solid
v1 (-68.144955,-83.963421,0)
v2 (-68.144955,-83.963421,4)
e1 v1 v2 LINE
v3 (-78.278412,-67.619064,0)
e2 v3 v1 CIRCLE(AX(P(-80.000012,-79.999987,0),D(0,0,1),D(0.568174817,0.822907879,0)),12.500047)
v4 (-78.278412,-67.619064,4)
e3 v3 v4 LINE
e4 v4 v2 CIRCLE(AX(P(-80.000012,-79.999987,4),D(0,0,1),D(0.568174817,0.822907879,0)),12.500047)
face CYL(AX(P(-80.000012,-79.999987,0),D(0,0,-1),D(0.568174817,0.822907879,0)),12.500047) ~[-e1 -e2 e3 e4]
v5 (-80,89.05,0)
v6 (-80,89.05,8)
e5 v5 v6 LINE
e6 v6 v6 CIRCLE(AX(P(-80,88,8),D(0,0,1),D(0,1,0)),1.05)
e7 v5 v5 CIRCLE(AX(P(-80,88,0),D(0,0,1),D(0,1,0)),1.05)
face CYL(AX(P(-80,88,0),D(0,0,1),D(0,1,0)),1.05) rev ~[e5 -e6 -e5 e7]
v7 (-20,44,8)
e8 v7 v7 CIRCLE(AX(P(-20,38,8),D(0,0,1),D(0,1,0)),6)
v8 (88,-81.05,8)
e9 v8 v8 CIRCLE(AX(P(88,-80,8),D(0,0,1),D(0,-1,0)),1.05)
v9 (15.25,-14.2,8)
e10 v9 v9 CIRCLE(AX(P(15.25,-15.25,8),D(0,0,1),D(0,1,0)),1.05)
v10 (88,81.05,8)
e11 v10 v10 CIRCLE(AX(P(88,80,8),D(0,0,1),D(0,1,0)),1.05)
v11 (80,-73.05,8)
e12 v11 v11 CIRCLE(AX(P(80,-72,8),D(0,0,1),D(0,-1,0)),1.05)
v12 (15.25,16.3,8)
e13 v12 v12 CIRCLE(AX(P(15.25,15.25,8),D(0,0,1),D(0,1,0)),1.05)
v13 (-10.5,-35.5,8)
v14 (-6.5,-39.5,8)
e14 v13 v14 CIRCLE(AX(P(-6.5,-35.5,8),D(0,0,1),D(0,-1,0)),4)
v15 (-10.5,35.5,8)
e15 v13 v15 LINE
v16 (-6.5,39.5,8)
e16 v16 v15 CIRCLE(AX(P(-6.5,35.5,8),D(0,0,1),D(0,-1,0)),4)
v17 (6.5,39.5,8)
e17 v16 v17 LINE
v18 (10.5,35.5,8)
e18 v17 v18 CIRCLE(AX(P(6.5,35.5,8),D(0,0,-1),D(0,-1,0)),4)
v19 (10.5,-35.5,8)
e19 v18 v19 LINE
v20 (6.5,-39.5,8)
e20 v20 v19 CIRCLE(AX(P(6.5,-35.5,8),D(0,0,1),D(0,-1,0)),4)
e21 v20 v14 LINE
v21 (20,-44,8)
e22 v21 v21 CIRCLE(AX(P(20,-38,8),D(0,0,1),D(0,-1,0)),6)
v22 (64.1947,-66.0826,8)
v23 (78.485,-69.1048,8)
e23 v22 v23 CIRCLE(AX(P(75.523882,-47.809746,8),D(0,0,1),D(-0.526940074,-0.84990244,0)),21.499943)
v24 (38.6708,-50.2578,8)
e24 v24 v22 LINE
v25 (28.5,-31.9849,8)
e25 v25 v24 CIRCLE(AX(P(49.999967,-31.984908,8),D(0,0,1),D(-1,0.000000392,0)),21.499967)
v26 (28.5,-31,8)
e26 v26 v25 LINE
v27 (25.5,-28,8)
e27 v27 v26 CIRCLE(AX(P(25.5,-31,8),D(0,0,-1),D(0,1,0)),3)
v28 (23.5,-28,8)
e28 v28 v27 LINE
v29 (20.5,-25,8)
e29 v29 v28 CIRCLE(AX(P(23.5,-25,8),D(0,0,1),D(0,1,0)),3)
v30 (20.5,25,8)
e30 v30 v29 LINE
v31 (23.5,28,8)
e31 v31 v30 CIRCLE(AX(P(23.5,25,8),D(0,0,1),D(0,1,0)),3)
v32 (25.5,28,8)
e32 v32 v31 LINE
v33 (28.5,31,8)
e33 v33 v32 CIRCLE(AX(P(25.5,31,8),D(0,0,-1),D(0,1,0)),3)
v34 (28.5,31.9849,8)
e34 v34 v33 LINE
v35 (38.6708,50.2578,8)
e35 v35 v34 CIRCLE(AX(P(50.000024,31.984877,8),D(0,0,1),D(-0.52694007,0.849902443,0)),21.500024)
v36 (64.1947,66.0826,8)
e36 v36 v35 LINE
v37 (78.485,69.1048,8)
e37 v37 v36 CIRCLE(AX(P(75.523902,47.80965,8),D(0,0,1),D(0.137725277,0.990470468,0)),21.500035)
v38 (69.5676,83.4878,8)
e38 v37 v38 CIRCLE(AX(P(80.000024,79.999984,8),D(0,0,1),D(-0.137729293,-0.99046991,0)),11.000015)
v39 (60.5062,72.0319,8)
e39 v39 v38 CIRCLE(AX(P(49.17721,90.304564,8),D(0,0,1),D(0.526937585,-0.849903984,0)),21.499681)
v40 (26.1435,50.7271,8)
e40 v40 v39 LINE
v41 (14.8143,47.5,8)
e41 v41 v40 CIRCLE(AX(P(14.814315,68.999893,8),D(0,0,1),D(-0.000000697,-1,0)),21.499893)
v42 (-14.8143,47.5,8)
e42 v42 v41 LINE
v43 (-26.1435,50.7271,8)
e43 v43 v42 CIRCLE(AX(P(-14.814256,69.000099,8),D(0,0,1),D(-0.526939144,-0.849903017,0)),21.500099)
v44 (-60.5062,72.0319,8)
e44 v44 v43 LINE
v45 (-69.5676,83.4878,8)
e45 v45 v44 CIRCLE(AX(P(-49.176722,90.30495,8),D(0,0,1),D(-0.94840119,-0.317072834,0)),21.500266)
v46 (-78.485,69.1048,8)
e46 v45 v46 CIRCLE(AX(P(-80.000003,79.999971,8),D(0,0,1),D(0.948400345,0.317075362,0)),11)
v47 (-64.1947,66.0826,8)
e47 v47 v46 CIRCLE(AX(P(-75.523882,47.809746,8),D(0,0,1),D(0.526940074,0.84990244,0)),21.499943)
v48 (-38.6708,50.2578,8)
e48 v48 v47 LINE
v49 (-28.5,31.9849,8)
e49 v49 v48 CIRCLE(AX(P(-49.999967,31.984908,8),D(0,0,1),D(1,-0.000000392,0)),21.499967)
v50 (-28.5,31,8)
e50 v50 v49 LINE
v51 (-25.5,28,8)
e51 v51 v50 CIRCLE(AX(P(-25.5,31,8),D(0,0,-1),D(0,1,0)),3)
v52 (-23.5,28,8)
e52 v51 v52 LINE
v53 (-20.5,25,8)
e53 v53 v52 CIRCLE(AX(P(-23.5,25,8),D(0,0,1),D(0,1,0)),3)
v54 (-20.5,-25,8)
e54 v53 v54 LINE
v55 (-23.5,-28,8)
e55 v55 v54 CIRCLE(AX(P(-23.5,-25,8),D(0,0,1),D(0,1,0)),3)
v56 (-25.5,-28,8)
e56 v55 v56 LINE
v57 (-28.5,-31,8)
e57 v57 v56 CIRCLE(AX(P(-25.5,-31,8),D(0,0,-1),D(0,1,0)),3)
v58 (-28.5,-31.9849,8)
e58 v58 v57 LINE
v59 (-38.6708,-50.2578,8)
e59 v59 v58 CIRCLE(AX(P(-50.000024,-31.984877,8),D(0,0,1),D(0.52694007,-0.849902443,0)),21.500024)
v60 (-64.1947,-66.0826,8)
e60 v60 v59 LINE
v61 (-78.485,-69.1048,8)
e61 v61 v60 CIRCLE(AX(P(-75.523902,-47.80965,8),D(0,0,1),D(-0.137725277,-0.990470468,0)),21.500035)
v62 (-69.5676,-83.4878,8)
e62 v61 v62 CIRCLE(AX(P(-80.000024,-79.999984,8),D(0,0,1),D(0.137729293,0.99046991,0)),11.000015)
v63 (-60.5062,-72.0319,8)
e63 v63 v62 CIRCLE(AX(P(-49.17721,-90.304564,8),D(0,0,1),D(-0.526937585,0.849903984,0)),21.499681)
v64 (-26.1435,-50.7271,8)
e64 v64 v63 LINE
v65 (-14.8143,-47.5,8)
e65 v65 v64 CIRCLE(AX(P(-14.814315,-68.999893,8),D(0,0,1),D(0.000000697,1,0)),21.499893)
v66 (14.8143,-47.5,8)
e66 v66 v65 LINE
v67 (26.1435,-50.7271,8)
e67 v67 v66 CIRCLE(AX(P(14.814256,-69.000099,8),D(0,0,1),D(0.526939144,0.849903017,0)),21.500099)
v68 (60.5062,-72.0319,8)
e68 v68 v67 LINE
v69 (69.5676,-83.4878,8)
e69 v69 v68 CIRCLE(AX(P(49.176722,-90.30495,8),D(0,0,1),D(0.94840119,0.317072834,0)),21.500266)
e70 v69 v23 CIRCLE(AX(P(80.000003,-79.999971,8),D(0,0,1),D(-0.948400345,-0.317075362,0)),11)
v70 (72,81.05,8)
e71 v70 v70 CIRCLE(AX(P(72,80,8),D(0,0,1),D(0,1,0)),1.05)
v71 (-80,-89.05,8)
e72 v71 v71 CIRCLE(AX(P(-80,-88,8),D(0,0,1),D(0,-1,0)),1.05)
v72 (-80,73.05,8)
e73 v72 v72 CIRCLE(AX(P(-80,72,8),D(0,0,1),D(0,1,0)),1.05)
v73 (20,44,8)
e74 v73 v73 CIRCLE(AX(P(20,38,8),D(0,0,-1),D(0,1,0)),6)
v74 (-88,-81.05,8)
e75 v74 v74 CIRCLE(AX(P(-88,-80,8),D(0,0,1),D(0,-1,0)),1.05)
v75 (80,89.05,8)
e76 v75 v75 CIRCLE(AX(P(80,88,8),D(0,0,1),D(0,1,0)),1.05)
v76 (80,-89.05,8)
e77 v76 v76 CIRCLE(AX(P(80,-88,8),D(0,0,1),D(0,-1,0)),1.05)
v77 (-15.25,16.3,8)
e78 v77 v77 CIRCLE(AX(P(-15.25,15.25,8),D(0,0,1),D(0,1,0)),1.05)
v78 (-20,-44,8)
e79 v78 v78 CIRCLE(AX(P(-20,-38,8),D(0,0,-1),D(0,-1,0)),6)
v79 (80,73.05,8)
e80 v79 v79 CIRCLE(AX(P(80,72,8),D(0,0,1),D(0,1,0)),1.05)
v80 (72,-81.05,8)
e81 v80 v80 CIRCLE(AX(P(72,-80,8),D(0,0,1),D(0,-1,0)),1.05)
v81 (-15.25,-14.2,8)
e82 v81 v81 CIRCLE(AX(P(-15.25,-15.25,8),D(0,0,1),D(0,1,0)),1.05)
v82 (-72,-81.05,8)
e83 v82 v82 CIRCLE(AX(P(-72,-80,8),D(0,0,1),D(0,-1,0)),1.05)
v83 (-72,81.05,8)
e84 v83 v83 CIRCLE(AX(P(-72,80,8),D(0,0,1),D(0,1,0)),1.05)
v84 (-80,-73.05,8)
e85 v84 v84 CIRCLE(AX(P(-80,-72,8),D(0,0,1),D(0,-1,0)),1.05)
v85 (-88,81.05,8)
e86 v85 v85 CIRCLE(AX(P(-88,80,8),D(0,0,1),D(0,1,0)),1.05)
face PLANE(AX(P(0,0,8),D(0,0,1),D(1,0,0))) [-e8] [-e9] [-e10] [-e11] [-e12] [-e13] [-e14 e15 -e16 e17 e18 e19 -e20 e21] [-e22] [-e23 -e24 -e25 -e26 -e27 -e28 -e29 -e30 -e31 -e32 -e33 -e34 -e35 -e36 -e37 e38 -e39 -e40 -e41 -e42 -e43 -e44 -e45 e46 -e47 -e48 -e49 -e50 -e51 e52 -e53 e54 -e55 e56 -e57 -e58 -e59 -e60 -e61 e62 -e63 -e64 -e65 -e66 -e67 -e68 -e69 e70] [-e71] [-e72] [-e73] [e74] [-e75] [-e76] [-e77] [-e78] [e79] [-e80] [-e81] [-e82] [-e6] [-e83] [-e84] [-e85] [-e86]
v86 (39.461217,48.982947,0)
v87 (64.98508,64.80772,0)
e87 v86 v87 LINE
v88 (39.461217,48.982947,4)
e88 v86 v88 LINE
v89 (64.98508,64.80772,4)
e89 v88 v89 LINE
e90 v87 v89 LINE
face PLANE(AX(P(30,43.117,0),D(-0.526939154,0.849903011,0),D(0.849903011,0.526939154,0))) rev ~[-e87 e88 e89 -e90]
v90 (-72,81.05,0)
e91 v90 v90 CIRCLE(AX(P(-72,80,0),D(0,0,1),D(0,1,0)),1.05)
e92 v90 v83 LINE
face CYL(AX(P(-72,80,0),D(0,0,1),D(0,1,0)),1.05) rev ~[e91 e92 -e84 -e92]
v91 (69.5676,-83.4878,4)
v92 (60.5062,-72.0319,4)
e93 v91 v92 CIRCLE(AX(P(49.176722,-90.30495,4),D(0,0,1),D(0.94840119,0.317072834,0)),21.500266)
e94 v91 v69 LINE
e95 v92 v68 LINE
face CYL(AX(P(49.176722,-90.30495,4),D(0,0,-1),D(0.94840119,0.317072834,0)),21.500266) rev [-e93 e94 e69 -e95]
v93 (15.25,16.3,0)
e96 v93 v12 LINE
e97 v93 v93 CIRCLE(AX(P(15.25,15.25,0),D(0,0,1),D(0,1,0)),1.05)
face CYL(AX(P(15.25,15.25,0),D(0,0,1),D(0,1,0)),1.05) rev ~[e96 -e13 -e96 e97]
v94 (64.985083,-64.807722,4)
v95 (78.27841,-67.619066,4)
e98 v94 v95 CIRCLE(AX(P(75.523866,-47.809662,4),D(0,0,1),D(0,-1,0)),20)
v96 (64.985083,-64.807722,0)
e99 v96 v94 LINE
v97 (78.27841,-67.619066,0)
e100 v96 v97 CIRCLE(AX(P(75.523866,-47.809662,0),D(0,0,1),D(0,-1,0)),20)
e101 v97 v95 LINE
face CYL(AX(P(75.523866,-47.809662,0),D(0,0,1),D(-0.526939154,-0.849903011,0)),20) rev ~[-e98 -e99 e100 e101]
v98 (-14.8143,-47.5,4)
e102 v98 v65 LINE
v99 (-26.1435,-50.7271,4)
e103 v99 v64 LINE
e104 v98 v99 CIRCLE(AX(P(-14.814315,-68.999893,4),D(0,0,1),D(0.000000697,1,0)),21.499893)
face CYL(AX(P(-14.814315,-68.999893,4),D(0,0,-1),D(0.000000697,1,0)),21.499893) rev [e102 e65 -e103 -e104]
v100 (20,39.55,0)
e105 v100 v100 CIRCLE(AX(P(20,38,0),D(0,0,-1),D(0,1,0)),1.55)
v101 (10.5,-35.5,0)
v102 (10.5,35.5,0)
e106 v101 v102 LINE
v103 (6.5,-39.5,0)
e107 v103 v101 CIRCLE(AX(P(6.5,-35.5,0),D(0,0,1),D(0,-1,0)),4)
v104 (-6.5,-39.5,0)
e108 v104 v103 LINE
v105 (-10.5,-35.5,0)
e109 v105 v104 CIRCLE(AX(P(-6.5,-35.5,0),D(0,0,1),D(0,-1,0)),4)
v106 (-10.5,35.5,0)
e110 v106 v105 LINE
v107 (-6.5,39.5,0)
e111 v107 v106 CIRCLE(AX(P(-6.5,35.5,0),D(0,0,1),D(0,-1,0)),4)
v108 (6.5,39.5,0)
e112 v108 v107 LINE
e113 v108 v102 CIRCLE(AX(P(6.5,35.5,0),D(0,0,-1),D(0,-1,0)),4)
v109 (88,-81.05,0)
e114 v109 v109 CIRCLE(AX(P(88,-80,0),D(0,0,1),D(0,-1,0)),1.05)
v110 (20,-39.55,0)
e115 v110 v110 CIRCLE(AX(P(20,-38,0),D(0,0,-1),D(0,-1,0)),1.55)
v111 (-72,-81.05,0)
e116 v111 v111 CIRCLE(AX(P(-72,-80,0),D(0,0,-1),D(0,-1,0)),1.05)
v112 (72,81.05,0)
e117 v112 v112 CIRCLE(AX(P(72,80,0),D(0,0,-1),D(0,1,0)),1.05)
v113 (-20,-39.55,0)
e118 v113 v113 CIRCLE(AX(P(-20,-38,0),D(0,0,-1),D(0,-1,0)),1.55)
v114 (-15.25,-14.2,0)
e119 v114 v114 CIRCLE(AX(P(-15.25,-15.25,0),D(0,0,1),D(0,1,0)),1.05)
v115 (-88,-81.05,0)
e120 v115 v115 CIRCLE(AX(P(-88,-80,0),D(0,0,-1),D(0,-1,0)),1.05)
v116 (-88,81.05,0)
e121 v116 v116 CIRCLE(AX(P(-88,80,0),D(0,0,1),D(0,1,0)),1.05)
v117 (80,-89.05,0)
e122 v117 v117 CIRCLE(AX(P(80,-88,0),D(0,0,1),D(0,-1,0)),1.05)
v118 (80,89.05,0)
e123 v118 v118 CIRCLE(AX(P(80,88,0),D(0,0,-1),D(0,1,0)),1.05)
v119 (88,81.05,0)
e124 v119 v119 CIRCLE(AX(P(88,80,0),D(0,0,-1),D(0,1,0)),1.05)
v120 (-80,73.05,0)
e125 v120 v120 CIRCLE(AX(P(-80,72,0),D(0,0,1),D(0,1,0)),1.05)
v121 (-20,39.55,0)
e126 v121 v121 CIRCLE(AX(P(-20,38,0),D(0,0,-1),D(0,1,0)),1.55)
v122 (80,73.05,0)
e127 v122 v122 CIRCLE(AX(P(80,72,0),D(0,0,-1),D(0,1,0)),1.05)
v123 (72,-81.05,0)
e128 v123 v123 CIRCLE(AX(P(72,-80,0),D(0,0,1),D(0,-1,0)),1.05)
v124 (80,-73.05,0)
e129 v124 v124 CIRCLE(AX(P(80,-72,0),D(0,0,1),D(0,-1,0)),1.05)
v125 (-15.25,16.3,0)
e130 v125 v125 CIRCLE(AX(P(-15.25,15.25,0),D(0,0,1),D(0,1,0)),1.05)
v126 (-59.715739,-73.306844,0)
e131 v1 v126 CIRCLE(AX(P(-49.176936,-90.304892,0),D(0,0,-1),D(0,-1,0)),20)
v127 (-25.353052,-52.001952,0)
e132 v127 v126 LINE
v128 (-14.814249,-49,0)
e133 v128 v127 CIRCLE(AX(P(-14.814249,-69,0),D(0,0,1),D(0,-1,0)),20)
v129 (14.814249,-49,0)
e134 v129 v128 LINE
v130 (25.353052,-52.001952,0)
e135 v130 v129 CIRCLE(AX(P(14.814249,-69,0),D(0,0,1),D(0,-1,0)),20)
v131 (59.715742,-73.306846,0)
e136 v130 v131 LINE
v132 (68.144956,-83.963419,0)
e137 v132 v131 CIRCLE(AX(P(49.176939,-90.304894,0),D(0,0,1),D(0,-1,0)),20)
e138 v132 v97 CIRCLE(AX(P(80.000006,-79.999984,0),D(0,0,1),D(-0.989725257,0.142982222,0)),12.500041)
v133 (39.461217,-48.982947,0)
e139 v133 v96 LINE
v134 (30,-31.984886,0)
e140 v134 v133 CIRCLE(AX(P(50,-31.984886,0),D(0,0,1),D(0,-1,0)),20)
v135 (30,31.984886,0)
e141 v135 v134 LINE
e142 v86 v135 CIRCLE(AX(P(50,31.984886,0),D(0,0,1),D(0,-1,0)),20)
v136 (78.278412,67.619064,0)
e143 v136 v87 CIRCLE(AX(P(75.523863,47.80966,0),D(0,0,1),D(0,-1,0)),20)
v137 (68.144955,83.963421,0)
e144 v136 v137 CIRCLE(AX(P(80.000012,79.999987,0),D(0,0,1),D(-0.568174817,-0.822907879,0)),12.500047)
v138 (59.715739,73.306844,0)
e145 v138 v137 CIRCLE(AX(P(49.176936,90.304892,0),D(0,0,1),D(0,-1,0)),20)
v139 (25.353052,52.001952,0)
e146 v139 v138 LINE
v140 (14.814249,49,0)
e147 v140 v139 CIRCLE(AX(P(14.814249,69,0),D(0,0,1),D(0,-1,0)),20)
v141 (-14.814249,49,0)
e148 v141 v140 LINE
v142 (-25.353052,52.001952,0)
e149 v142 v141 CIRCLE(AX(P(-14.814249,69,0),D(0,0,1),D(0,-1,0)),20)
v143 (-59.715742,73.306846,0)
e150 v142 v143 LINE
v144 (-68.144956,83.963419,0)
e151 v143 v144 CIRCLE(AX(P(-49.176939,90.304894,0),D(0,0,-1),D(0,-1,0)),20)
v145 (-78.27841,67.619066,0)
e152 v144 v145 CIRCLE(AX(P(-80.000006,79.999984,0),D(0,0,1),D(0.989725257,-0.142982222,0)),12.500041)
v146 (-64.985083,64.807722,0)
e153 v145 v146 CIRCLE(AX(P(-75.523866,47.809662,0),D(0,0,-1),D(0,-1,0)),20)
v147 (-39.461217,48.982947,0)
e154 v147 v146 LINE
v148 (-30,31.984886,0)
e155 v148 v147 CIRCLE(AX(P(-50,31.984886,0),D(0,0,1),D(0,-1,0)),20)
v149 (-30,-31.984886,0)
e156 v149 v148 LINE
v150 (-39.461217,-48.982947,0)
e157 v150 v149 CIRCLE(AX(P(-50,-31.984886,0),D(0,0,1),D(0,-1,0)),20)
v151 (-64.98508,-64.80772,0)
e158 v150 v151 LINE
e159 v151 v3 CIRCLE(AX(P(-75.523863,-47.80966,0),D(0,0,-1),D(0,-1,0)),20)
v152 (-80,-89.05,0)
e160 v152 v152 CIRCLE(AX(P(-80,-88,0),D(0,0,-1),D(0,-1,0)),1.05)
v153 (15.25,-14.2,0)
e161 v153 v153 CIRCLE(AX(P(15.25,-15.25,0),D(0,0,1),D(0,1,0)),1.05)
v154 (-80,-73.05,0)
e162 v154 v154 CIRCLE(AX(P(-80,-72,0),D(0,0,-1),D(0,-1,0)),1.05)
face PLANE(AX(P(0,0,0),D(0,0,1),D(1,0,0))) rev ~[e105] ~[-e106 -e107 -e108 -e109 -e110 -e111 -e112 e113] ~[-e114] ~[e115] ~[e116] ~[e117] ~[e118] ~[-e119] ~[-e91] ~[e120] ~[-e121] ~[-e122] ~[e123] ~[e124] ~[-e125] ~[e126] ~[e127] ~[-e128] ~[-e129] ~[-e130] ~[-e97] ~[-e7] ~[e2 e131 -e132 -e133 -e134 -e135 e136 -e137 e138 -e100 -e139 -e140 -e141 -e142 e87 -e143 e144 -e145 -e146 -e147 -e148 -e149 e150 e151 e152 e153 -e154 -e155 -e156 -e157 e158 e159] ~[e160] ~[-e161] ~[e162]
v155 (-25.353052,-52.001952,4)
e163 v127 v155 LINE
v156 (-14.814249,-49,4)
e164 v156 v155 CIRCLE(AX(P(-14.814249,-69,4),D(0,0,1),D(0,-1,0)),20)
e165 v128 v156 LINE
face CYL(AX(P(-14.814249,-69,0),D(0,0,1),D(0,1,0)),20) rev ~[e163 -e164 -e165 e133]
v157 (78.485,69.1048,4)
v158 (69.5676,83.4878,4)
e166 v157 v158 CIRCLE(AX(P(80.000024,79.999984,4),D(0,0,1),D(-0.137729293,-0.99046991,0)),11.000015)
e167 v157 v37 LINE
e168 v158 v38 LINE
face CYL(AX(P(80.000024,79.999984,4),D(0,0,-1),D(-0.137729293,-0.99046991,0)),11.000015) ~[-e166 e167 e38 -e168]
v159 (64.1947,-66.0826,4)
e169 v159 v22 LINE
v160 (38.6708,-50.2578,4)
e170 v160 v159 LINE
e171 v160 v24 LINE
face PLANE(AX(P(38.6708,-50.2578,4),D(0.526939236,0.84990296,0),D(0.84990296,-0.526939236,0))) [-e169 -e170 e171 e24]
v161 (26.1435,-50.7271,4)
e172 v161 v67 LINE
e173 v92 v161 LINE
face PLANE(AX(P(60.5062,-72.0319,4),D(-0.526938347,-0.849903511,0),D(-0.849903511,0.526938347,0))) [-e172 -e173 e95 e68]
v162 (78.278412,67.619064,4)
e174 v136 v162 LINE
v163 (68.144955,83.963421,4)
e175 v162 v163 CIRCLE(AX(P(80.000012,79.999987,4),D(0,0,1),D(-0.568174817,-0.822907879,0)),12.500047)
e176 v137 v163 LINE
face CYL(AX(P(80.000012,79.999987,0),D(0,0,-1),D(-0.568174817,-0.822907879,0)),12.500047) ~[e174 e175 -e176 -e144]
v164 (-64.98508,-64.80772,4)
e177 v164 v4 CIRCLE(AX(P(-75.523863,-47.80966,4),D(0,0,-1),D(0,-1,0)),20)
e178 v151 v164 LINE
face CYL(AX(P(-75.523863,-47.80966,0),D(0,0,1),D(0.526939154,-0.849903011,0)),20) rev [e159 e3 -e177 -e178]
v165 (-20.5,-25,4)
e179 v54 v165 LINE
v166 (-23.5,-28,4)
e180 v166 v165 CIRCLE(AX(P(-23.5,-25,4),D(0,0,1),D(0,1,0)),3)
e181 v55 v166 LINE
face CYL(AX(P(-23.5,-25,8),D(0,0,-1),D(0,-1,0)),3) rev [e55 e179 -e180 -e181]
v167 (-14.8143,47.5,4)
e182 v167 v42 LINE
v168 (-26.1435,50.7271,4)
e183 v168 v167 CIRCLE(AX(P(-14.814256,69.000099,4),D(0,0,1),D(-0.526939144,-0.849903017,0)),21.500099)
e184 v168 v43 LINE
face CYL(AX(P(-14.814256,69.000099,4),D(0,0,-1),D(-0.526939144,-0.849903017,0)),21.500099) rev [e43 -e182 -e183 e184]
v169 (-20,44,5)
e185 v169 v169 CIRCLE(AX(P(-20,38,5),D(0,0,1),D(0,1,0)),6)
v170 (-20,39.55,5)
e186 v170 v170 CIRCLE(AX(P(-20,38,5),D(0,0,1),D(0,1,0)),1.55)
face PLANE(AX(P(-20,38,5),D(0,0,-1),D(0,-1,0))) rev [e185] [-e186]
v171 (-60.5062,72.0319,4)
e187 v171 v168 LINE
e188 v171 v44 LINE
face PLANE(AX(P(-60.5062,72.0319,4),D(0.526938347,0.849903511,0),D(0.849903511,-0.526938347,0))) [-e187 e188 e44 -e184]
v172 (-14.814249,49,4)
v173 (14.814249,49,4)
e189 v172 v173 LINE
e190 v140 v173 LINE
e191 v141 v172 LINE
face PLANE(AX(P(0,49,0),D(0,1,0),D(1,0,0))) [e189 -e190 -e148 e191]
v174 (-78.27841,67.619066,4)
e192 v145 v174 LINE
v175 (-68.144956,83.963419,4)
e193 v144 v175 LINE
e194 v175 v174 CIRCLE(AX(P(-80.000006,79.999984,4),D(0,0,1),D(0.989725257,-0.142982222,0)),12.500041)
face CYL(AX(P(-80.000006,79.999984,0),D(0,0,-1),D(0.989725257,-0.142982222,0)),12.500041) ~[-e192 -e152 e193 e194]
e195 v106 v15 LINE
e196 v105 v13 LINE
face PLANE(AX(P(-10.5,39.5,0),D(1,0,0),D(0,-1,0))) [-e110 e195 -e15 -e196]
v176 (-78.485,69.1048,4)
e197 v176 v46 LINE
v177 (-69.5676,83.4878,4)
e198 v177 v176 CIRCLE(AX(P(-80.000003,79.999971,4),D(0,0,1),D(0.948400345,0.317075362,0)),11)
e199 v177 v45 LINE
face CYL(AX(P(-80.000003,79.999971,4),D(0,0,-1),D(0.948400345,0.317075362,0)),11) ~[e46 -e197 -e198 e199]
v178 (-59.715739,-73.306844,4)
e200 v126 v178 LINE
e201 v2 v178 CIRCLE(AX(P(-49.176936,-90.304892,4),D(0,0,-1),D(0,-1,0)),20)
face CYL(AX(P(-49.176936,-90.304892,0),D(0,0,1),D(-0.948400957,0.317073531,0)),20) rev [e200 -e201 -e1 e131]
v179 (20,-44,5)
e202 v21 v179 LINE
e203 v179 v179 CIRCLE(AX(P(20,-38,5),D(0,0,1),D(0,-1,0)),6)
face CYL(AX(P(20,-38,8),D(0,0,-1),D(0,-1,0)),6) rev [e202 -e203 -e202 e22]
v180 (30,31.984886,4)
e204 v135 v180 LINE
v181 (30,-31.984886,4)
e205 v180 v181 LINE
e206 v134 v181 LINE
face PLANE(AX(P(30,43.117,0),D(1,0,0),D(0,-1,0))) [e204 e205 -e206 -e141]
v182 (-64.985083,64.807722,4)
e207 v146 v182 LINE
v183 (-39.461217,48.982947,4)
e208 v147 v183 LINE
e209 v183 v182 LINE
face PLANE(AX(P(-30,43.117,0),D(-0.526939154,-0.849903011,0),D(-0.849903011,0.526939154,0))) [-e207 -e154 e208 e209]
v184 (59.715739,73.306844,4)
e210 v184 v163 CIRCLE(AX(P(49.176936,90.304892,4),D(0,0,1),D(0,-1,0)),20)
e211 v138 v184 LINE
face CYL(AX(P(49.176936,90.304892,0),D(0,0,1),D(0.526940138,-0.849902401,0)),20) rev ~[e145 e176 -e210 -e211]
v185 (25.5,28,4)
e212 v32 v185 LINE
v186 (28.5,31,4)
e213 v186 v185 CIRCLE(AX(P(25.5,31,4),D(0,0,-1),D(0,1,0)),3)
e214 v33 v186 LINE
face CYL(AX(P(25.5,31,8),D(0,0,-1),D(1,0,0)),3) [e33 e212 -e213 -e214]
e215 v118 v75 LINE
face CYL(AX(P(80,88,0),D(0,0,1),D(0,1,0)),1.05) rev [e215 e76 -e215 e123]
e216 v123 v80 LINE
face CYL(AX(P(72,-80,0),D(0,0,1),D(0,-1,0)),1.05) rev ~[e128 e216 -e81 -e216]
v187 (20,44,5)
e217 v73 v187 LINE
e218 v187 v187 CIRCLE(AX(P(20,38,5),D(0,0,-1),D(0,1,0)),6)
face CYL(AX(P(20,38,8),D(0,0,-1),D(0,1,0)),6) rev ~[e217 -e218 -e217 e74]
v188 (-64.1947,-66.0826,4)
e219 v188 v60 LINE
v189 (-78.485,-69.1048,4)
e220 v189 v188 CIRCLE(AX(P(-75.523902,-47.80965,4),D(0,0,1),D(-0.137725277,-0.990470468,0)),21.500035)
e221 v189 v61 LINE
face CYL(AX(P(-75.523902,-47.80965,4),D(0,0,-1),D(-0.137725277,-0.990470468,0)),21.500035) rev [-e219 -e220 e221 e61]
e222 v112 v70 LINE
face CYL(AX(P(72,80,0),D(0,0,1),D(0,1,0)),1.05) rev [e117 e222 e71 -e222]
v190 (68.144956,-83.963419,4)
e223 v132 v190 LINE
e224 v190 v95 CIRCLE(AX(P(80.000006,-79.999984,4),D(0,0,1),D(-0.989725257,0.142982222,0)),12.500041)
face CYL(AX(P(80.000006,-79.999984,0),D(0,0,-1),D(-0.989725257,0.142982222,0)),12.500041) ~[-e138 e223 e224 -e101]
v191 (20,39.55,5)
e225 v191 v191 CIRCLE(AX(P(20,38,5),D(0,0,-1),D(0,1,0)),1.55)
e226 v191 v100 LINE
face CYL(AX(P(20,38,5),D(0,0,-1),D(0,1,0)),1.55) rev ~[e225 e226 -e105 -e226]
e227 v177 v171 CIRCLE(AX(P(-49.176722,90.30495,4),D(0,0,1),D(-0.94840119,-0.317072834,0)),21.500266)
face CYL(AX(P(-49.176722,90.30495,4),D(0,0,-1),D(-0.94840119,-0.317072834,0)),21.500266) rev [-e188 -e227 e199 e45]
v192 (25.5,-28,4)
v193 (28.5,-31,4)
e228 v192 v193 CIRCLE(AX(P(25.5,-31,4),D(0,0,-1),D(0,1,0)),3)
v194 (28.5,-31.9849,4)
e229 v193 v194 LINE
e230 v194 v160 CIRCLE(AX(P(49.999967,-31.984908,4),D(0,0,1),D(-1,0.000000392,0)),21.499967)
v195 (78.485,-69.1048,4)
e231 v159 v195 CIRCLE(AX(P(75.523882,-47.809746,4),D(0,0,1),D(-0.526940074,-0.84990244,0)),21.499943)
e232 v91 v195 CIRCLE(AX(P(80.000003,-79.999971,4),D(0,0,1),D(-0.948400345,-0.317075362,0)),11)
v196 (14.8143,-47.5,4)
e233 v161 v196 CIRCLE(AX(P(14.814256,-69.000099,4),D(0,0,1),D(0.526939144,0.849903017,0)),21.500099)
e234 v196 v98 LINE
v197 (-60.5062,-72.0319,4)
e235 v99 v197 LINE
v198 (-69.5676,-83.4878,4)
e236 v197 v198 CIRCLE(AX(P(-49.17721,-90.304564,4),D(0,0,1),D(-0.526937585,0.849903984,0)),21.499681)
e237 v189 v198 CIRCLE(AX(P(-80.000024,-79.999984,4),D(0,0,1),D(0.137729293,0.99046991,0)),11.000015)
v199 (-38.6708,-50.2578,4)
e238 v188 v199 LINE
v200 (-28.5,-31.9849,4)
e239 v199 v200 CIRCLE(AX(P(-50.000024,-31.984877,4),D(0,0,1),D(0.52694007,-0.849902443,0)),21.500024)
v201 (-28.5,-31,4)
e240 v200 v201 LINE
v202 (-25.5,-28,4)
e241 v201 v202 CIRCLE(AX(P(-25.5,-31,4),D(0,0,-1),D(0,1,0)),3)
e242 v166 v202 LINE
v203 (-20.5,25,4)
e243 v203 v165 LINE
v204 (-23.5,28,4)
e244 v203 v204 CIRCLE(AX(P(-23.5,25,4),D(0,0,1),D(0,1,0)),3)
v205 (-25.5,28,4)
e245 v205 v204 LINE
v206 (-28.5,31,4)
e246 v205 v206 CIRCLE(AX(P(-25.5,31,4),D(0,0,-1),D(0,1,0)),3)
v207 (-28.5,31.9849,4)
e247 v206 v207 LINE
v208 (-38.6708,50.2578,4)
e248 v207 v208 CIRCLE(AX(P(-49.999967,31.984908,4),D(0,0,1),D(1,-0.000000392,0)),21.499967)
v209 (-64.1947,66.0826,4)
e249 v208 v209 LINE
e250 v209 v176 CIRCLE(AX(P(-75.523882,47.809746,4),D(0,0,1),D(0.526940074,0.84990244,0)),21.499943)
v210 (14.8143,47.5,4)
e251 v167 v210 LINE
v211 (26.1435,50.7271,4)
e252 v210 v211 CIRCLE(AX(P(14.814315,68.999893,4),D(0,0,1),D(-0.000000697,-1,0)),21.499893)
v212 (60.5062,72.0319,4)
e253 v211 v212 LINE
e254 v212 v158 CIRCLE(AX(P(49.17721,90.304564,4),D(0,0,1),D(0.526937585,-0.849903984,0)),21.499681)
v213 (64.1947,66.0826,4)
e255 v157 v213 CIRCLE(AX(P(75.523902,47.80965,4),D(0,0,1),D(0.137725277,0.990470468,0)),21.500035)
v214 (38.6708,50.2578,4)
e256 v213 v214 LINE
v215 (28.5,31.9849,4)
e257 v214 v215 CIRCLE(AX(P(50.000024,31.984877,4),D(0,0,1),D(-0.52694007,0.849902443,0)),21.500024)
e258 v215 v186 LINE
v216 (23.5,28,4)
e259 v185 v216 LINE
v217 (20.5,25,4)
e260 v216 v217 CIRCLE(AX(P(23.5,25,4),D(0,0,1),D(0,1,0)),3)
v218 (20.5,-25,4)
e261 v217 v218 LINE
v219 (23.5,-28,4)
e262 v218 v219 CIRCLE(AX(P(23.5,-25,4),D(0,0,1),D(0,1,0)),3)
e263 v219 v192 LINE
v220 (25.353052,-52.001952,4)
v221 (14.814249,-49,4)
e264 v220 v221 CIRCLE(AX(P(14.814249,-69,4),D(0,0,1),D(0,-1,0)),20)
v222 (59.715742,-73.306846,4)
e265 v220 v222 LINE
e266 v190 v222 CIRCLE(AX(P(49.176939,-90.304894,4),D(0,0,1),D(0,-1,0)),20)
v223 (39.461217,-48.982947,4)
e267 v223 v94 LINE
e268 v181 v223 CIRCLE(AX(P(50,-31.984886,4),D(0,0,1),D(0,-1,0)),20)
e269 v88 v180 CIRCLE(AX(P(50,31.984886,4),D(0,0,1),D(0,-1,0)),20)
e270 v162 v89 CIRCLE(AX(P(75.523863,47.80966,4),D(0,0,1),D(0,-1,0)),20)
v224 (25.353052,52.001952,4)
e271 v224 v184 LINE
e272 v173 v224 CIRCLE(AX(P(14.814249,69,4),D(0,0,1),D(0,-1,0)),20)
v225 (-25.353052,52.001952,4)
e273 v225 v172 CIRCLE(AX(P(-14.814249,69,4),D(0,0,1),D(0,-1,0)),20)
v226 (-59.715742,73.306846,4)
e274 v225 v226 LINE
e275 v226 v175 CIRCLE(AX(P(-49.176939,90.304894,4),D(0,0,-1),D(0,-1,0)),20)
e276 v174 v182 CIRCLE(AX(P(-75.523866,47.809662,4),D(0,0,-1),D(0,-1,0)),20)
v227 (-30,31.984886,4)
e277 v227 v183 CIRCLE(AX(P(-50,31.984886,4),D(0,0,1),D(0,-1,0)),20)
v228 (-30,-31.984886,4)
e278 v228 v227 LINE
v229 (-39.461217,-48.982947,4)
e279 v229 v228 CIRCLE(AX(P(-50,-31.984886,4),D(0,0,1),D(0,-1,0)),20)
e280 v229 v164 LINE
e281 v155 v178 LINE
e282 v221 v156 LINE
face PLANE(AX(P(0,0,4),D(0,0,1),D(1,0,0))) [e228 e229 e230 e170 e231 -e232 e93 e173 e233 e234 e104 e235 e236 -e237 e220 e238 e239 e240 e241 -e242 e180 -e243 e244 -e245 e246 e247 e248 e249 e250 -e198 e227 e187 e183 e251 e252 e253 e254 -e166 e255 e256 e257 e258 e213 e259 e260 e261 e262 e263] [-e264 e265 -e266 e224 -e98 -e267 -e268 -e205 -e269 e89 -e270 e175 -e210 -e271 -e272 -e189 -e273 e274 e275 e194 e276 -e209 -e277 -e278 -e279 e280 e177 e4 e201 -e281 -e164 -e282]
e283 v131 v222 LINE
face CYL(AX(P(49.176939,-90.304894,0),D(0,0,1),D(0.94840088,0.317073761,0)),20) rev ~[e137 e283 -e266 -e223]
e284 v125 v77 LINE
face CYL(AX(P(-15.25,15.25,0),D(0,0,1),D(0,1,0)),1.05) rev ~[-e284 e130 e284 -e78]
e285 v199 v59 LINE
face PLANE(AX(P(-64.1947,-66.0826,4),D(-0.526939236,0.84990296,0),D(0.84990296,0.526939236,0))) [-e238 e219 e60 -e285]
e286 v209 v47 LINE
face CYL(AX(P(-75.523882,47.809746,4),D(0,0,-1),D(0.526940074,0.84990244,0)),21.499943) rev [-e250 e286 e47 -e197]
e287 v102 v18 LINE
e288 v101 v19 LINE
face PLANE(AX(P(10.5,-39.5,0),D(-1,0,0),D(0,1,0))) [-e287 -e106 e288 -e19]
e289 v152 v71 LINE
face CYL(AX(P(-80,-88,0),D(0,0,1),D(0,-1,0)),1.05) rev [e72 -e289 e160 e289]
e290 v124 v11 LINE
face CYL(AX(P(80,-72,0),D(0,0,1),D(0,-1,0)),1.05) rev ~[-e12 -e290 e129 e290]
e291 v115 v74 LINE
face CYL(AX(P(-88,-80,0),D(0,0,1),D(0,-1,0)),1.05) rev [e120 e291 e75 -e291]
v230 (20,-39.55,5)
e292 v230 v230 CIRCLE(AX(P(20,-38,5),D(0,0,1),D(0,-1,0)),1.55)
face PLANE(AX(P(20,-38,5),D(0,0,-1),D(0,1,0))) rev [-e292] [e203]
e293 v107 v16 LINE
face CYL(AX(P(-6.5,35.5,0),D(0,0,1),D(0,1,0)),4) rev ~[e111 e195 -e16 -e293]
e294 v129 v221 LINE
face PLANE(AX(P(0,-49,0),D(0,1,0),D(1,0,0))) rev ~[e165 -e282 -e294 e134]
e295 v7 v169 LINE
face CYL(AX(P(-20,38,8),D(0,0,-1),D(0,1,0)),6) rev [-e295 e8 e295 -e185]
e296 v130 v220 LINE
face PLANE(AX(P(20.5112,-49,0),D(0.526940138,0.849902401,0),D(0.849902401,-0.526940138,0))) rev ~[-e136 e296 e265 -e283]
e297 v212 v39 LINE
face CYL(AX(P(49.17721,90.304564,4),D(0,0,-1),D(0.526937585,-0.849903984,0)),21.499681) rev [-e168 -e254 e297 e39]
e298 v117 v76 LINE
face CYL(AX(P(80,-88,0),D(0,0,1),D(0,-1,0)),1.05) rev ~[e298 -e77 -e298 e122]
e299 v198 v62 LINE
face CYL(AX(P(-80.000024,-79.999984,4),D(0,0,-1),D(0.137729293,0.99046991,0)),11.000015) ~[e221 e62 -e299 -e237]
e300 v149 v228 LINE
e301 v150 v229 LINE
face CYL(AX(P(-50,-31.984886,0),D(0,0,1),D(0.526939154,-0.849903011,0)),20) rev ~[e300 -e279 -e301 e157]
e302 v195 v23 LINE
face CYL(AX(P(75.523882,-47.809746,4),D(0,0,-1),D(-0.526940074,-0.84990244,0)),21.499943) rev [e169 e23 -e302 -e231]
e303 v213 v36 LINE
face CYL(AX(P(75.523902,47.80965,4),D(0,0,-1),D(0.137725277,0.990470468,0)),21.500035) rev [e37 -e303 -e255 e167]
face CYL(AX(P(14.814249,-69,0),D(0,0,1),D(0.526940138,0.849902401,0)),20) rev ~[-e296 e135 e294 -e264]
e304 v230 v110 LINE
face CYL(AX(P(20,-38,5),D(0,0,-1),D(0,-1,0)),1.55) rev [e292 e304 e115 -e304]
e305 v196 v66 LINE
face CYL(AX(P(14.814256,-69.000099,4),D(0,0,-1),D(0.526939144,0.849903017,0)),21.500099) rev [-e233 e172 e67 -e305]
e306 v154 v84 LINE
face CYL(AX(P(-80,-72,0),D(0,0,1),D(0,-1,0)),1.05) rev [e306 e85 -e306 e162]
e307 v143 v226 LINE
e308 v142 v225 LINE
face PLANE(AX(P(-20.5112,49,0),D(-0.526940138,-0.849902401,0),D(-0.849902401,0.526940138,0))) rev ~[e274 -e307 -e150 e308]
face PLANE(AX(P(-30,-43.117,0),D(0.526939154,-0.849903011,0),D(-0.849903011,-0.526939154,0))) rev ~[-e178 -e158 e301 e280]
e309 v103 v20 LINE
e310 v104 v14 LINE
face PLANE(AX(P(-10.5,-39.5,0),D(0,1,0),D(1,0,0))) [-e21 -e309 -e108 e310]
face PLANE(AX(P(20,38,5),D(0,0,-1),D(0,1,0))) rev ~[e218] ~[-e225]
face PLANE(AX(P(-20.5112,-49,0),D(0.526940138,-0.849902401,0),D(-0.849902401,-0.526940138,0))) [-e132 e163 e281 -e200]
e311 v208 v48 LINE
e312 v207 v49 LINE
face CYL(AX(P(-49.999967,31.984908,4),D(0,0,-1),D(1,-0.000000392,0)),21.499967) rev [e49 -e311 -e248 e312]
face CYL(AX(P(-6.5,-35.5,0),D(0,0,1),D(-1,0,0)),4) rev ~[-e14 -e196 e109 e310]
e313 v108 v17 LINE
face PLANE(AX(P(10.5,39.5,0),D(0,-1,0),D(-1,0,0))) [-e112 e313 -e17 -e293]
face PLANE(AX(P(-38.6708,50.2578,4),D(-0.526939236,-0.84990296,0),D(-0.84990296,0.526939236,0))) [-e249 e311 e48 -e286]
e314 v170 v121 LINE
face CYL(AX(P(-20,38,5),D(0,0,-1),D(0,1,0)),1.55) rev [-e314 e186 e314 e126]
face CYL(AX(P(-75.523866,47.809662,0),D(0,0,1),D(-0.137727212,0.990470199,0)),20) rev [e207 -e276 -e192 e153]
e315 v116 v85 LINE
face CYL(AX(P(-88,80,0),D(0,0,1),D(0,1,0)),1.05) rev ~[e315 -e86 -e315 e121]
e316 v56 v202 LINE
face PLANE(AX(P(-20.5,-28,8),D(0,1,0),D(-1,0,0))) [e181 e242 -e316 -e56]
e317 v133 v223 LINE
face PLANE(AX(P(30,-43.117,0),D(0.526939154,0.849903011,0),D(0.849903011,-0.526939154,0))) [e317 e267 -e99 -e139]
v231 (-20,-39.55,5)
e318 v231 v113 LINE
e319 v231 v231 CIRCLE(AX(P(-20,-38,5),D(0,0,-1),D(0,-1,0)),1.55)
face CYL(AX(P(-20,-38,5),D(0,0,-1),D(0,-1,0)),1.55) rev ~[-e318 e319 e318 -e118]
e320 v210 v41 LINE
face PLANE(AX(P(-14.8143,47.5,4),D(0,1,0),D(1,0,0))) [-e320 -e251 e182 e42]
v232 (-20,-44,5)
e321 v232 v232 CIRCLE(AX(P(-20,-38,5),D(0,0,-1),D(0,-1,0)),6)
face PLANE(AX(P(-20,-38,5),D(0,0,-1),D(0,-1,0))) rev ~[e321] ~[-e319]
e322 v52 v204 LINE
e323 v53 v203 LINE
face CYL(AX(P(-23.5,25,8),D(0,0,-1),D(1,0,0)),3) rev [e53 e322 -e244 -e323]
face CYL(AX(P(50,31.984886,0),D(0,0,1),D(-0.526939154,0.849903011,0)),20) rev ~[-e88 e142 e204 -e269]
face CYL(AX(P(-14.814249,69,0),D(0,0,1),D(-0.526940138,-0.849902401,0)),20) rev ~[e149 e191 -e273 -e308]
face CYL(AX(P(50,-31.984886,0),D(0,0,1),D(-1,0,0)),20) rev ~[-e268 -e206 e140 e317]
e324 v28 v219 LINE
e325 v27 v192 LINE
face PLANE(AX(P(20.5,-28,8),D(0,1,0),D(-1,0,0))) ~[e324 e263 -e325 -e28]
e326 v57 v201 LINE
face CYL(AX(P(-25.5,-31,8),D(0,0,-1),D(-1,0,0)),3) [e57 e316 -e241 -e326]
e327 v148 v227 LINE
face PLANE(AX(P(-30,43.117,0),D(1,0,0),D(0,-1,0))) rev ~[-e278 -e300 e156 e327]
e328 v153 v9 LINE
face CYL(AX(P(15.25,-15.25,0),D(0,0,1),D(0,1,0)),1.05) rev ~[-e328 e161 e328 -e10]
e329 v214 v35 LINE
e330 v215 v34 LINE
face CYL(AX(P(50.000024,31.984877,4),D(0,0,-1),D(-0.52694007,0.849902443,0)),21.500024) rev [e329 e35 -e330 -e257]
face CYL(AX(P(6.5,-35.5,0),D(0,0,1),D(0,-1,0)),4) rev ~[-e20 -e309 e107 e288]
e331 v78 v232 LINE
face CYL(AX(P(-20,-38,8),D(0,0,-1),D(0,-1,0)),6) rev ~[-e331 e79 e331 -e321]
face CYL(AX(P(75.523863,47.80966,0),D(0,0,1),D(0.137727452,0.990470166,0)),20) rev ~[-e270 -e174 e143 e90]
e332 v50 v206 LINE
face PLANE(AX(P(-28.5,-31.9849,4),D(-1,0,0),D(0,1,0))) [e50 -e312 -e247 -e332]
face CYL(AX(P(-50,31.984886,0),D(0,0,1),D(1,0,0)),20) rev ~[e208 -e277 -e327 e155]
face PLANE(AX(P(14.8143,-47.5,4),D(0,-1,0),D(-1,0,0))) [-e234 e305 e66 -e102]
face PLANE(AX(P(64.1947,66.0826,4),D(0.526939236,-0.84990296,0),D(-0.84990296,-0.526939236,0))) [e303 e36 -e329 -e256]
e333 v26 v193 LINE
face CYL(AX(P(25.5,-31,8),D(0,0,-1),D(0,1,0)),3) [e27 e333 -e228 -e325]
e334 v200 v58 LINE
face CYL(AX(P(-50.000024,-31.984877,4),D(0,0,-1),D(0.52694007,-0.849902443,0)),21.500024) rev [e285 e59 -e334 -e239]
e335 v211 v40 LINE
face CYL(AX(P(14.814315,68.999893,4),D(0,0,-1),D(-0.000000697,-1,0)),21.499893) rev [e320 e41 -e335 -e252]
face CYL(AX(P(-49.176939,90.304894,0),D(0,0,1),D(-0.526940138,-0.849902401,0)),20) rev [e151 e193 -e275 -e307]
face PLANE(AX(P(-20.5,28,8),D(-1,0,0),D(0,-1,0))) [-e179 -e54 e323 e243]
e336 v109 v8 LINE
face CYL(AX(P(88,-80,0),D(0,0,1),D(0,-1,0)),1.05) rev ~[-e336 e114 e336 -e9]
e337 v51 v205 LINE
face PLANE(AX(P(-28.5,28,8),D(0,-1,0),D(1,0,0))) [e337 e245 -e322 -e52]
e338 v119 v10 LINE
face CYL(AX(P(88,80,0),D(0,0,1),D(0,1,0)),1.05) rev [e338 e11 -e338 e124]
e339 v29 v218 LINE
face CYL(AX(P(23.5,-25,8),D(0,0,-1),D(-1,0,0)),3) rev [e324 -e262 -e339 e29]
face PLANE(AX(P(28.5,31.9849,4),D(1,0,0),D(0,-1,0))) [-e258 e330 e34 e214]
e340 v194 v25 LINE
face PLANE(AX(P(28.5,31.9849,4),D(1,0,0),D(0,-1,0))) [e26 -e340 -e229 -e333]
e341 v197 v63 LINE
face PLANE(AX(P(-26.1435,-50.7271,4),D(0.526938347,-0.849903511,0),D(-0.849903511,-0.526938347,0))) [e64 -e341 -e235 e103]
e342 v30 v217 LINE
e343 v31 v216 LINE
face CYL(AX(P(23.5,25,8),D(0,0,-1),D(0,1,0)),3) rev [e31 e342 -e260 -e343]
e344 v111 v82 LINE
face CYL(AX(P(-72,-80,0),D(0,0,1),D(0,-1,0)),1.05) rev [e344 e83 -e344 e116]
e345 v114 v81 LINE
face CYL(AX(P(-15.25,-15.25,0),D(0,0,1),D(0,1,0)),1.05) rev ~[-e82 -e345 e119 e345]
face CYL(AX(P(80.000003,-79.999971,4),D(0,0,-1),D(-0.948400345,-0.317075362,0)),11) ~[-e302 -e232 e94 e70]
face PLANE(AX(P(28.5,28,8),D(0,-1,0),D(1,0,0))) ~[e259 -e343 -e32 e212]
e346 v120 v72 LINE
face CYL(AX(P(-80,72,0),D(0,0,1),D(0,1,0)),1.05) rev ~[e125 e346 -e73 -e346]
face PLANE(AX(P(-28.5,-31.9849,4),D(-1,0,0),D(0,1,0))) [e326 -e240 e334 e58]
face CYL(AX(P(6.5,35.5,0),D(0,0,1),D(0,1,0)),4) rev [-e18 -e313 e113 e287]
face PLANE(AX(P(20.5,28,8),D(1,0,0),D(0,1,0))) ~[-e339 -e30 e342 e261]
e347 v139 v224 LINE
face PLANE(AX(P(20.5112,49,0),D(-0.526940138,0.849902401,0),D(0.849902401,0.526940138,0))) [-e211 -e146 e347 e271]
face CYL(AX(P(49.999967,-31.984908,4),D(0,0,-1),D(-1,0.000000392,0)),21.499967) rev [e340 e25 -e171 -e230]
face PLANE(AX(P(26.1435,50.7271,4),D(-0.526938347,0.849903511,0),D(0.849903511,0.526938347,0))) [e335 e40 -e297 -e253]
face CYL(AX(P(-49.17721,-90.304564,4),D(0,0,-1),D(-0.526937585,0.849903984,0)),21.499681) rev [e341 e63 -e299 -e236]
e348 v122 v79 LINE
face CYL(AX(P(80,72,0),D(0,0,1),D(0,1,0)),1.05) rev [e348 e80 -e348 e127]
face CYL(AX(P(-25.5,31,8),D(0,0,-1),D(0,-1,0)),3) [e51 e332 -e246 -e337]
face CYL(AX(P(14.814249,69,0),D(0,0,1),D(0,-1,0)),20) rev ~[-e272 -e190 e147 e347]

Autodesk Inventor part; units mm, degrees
ref_plane "YZ Plane" through (0, 0, 0) normal (1, 0, 0) x (0, 1, 0)
ref_plane "XZ Plane" through (0, 0, 0) normal (0, 1, 0) x (-1, 0, 0)
ref_plane "XY Plane" through (0, 0, 0) normal (0, 0, 1) x (1, 0, 0)
sketch "Sketch3" plane through (0, 0, 0) normal (0, 0, 1) x (1, 0, 0)
  line L0 (0, 49) -> (20.5112, 49)
  line L1 (30, 43.117) -> (30, 0)
  line L2 (30, 49) -> (80, 80) construction
  line L3 (30, 43.117) -> (72.8978, 69.7136)
  line L4 (20.5112, 49) -> (67.6284, 78.2127)
  circle A0 centre (80, 80) radius 12.5 construction
  arc A1 (72.8978, 69.7136) -> (67.6284, 78.2127) centre (80, 80) ccw
  line L5 (0, 136.0947) -> (0, -136.0947) construction
  line L6 (-136.0947, 0) -> (136.0947, 0) construction
  line L7 (0, 49) -> (-20.5112, 49)
  line L8 (-30, 43.117) -> (-30, 0)
  line L9 (-30, 43.117) -> (-72.8978, 69.7136)
  line L10 (-20.5112, 49) -> (-67.6284, 78.2127)
  arc A2 (-67.6284, 78.2127) -> (-72.8978, 69.7136) centre (-80, 80) ccw
  line L11 (0, -49) -> (20.5112, -49)
  line L12 (30, -43.117) -> (30, 0)
  line L13 (30, -43.117) -> (72.8978, -69.7136)
  line L14 (20.5112, -49) -> (67.6284, -78.2127)
  arc A3 (67.6284, -78.2127) -> (72.8978, -69.7136) centre (80, -80) ccw
  line L15 (-30, -43.117) -> (-72.8978, -69.7136)
  line L16 (-20.5112, -49) -> (-67.6284, -78.2127)
  line L17 (0, -49) -> (-20.5112, -49)
  line L18 (-30, -43.117) -> (-30, 0)
  arc A4 (-72.8978, -69.7136) -> (-67.6284, -78.2127) centre (-80, -80) ccw
  point P0 (0, 0)
  dimension "d13" = 80
  dimension "d14" = 80
  dimension "d15" = 5
  dimension "d16" = 5
  dimension "d17" = 25
  dimension "d18" = 30
  dimension "d19" = 49
extrude "Extrusion2" add sketch "Sketch3" along normal blind 4
fillet "Fillet1" radius 20 8 edges at (30, 43.117, 2) (30, -43.117, 2) (-30, 43.117, 2) (20.5112, -49, 2) (-30, -43.117, 2) (20.5112, 49, 2) (-20.5112, 49, 2) (-20.5112, -49, 2)
fillet "Fillet2" radius 20 8 edges at (72.8978, 69.7136, 2) (-67.6284, -78.2127, 2) (-72.8978, 69.7136, 2) (67.6284, -78.2127, 2) (72.8978, -69.7136, 2) (67.6284, 78.2127, 2) (-67.6284, 78.2127, 2) (-72.8978, -69.7136, 2)
sketch "Sketch4" plane through (0, 0, 4) normal (0, 0, 1) x (1, 0, 0)
  line L0 (14.8143, 49) -> (-14.8143, 49) projected
  arc A0 (-25.3531, 52.0019) -> (-14.8143, 49) centre (-14.8143, 69) ccw projected
  line L1 (-25.3531, 52.0019) -> (-59.7157, 73.3068) projected
  arc A1 (-68.145, 83.9634) -> (-59.7157, 73.3068) centre (-49.177, 90.3048) ccw projected
  arc A2 (-68.145, 83.9634) -> (-78.2784, 67.6191) centre (-80, 80) ccw projected
  arc A3 (-64.9851, 64.8078) -> (-78.2784, 67.6191) centre (-75.5239, 47.8097) ccw projected
  line L2 (-64.9851, 64.8078) -> (-39.4612, 48.9829) projected
  arc A4 (-30, 31.9849) -> (-39.4612, 48.9829) centre (-50, 31.9849) ccw projected
  line L3 (-30, 31.9849) -> (-30, -31.9849) projected
  arc A5 (-39.4612, -48.9829) -> (-30, -31.9849) centre (-50, -31.9849) ccw projected
  line L4 (-39.4612, -48.9829) -> (-64.9851, -64.8078) projected
  arc A6 (-78.2784, -67.6191) -> (-64.9851, -64.8078) centre (-75.5239, -47.8097) ccw projected
  arc A7 (-78.2784, -67.6191) -> (-68.145, -83.9634) centre (-80, -80) ccw projected
  arc A8 (-59.7157, -73.3068) -> (-68.145, -83.9634) centre (-49.177, -90.3048) ccw projected
  line L5 (-59.7157, -73.3068) -> (-25.3531, -52.0019) projected
  arc A9 (-14.8143, -49) -> (-25.3531, -52.0019) centre (-14.8143, -69) ccw projected
  line L6 (-14.8143, -49) -> (14.8143, -49) projected
  arc A10 (25.3531, -52.0019) -> (14.8143, -49) centre (14.8143, -69) ccw projected
  line L7 (25.3531, -52.0019) -> (59.7157, -73.3068) projected
  arc A11 (68.145, -83.9634) -> (59.7157, -73.3068) centre (49.177, -90.3048) ccw projected
  arc A12 (68.145, -83.9634) -> (78.2784, -67.6191) centre (80, -80) ccw projected
  arc A13 (64.9851, -64.8078) -> (78.2784, -67.6191) centre (75.5239, -47.8097) ccw projected
  line L8 (64.9851, -64.8078) -> (39.4612, -48.9829) projected
  arc A14 (30, -31.9849) -> (39.4612, -48.9829) centre (50, -31.9849) ccw projected
  line L9 (30, -31.9849) -> (30, 31.9849) projected
  arc A15 (39.4612, 48.9829) -> (30, 31.9849) centre (50, 31.9849) ccw projected
  line L10 (39.4612, 48.9829) -> (64.9851, 64.8078) projected
  arc A16 (78.2784, 67.6191) -> (64.9851, 64.8078) centre (75.5239, 47.8097) ccw projected
  arc A17 (78.2784, 67.6191) -> (68.145, 83.9634) centre (80, 80) ccw projected
  arc A18 (59.7157, 73.3068) -> (68.145, 83.9634) centre (49.177, 90.3048) ccw projected
  line L11 (59.7157, 73.3068) -> (25.3531, 52.0019) projected
  arc A19 (14.8143, 49) -> (25.3531, 52.0019) centre (14.8143, 69) ccw projected
  line L12 (-14.8143, 47.5) -> (14.8143, 47.5)
  arc A20 (14.8143, 47.5) -> (26.1435, 50.7271) centre (14.8143, 69) ccw
  line L13 (26.1435, 50.7271) -> (60.5062, 72.0319)
  arc A21 (60.5062, 72.0319) -> (69.5676, 83.4878) centre (49.177, 90.3048) ccw
  arc A22 (78.485, 69.1048) -> (69.5676, 83.4878) centre (80, 80) ccw
  arc A23 (78.485, 69.1048) -> (64.1947, 66.0826) centre (75.5239, 47.8097) ccw
  line L14 (64.1947, 66.0826) -> (38.6708, 50.2578)
  arc A24 (38.6708, 50.2578) -> (28.5, 31.9849) centre (50, 31.9849) ccw
  line L15 (28.5, 31.9849) -> (28.5, -31.9849)
  arc A25 (28.5, -31.9849) -> (38.6708, -50.2578) centre (50, -31.9849) ccw
  line L16 (38.6708, -50.2578) -> (64.1947, -66.0826)
  arc A26 (64.1947, -66.0826) -> (78.485, -69.1048) centre (75.5239, -47.8097) ccw
  arc A27 (69.5676, -83.4878) -> (78.485, -69.1048) centre (80, -80) ccw
  arc A28 (69.5676, -83.4878) -> (60.5062, -72.0319) centre (49.177, -90.3048) ccw
  line L17 (60.5062, -72.0319) -> (26.1435, -50.7271)
  arc A29 (26.1435, -50.7271) -> (14.8143, -47.5) centre (14.8143, -69) ccw
  line L18 (14.8143, -47.5) -> (-14.8143, -47.5)
  arc A30 (-14.8143, -47.5) -> (-26.1435, -50.7271) centre (-14.8143, -69) ccw
  line L19 (-26.1435, -50.7271) -> (-60.5062, -72.0319)
  arc A31 (-60.5062, -72.0319) -> (-69.5676, -83.4878) centre (-49.177, -90.3048) ccw
  arc A32 (-78.485, -69.1048) -> (-69.5676, -83.4878) centre (-80, -80) ccw
  arc A33 (-78.485, -69.1048) -> (-64.1947, -66.0826) centre (-75.5239, -47.8097) ccw
  line L20 (-64.1947, -66.0826) -> (-38.6708, -50.2578)
  arc A34 (-38.6708, -50.2578) -> (-28.5, -31.9849) centre (-50, -31.9849) ccw
  line L21 (-28.5, -31.9849) -> (-28.5, 31.9849)
  arc A35 (-28.5, 31.9849) -> (-38.6708, 50.2578) centre (-50, 31.9849) ccw
  line L22 (-38.6708, 50.2578) -> (-64.1947, 66.0826)
  arc A36 (-64.1947, 66.0826) -> (-78.485, 69.1048) centre (-75.5239, 47.8097) ccw
  arc A37 (-69.5676, 83.4878) -> (-78.485, 69.1048) centre (-80, 80) ccw
  arc A38 (-69.5676, 83.4878) -> (-60.5062, 72.0319) centre (-49.177, 90.3048) ccw
  line L23 (-60.5062, 72.0319) -> (-26.1435, 50.7271)
  arc A39 (-26.1435, 50.7271) -> (-14.8143, 47.5) centre (-14.8143, 69) ccw
  point P0 (0, 0)
  dimension "d24" = 7
extrude "Extrusion3" add sketch "Sketch4" along normal blind 4 contours L12 A20 L13 A21 A22 A23 L14 A24 L15 A25 L16 A26 A27 A28 L17 A29 L18 A30 L19 A31 A32 A33 L20 A34 L21 A35 L22 A36 A37 A38 L23 A39
sketch "Sketch5" plane through (0, 0, 0) normal (0, 0, -1) x (-1, 0, 0)
  line L0 (-129.5, 0) -> (129.5, 0) projected
  line L1 (0, -129.5) -> (0, 129.5) projected
  point P0 (0, 0)
  point P1 (-15.25, -15.25)
  point P2 (15.25, -15.25)
  point P3 (15.25, 15.25)
  point P4 (-15.25, 15.25)
  dimension "d28" = 30.5
  dimension "d30" = 30.5
hole "Hole1" at (15.25, -15.25, 0) at (-15.25, -15.25, 0) at (-15.25, 15.25, 0) at (15.25, 15.25, 0) direction (0, 0, 1) diameter 2.1 end through all
sketch "Sketch6" plane through (0, 0, 8) normal (0, 0, 1) x (1, 0, 0)
  point P0 (0, 0)
  point P1 (-20, -38)
  dimension "d58" = 20
  dimension "d59" = 38
hole "Hole2" at (-20, -38, 8) direction (0, 0, -1) diameter 12 depth 3
hole "Hole3" at (-20, -38, 5) direction (0, 0, -1) diameter 3.1 end through all
mirror "Mirror1" about plane through (0, 0, 0) normal (1, 0, 0) of "Hole2", "Hole3"
mirror "Mirror2" about plane through (0, 0, 0) normal (0, 1, 0) of "Hole2", "Hole3", "Mirror1"
sketch "Sketch8" plane through (0, 0, 0) normal (0, 0, -1) x (-1, 0, 0)
  arc A0 (78.2784, 67.6191) -> (68.145, 83.9634) centre (80, 80) ccw projected
  point P0 (0, 0)
  point P1 (80, 88)
  point P2 (72, 80)
  point P3 (80, 72)
  point P4 (88, 80)
  dimension "d60" = 8
  dimension "d63" = 360
hole "Hole4" at (-80, 88, 0) at (-72, 80, 0) at (-80, 72, 0) at (-88, 80, 0) direction (0, 0, 1) diameter 2.1 end through all
mirror "Mirror3" about plane through (0, 0, 0) normal (0, 1, 0) of "Hole4"
mirror "Mirror4" about plane through (0, 0, 0) normal (1, 0, 0) of "Hole4", "Mirror3"
sketch "Sketch9" plane through (0, 0, 0) normal (0, 0, -1) x (-1, 0, 0)
  circle A0 centre (-80, -72) radius 1.05 projected
  circle A1 centre (-88, -80) radius 1.05 projected
  circle A2 centre (-72, -80) radius 1.05 projected
  circle A3 centre (-80, -88) radius 1.05 projected
  circle A4 centre (-80, 72) radius 1.05 projected
  circle A5 centre (-88, 80) radius 1.05 projected
  circle A6 centre (-72, 80) radius 1.05 projected
  circle A7 centre (-80, 88) radius 1.05 projected
  circle A8 centre (80, -72) radius 1.05 projected
  circle A9 centre (88, -80) radius 1.05 projected
  circle A10 centre (72, -80) radius 1.05 projected
  circle A11 centre (80, -88) radius 1.05 projected
  circle A12 centre (80, 72) radius 1.05 projected
  circle A13 centre (80, 88) radius 1.05 projected
  circle A14 centre (72, 80) radius 1.05 projected
  circle A15 centre (88, 80) radius 1.05 projected
  circle A16 centre (-20, 38) radius 6 projected
  circle A17 centre (20, 38) radius 6 projected
  circle A18 centre (-20, -38) radius 6 projected
  circle A19 centre (20, -38) radius 6 projected
  circle A20 centre (15.25, 15.25) radius 1.05 projected
  circle A21 centre (-15.25, -15.25) radius 1.05 projected
  circle A22 centre (15.25, -15.25) radius 1.05 projected
  circle A23 centre (-15.25, 15.25) radius 1.05 projected
  line L0 (-14.8143, 47.5) -> (14.8143, 47.5) projected
  arc A24 (14.8143, 47.5) -> (26.1435, 50.7271) centre (14.8143, 69) ccw projected
  line L1 (26.1435, 50.7271) -> (60.5062, 72.0319) projected
  arc A25 (60.5062, 72.0319) -> (69.5676, 83.4878) centre (49.177, 90.3048) ccw projected
  arc A26 (78.485, 69.1048) -> (69.5676, 83.4878) centre (80, 80) ccw projected
  arc A27 (78.485, 69.1048) -> (64.1947, 66.0826) centre (75.5239, 47.8097) ccw projected
  line L2 (64.1947, 66.0826) -> (38.6708, 50.2578) projected
  arc A28 (38.6708, 50.2578) -> (28.5, 31.9849) centre (50, 31.9849) ccw projected
  line L3 (28.5, 31.9849) -> (28.5, -31.9849) projected
  arc A29 (28.5, -31.9849) -> (38.6708, -50.2578) centre (50, -31.9849) ccw projected
  line L4 (38.6708, -50.2578) -> (64.1947, -66.0826) projected
  arc A30 (64.1947, -66.0826) -> (78.485, -69.1048) centre (75.5239, -47.8097) ccw projected
  arc A31 (69.5676, -83.4878) -> (78.485, -69.1048) centre (80, -80) ccw projected
  arc A32 (69.5676, -83.4878) -> (60.5062, -72.0319) centre (49.177, -90.3048) ccw projected
  line L5 (60.5062, -72.0319) -> (26.1435, -50.7271) projected
  arc A33 (26.1435, -50.7271) -> (14.8143, -47.5) centre (14.8143, -69) ccw projected
  line L6 (14.8143, -47.5) -> (-14.8143, -47.5) projected
  arc A34 (-14.8143, -47.5) -> (-26.1435, -50.7271) centre (-14.8143, -69) ccw projected
  line L7 (-26.1435, -50.7271) -> (-60.5062, -72.0319) projected
  arc A35 (-60.5062, -72.0319) -> (-69.5676, -83.4878) centre (-49.177, -90.3048) ccw projected
  arc A36 (-78.485, -69.1048) -> (-69.5676, -83.4878) centre (-80, -80) ccw projected
  arc A37 (-78.485, -69.1048) -> (-64.1947, -66.0826) centre (-75.5239, -47.8097) ccw projected
  line L8 (-64.1947, -66.0826) -> (-38.6708, -50.2578) projected
  arc A38 (-38.6708, -50.2578) -> (-28.5, -31.9849) centre (-50, -31.9849) ccw projected
  line L9 (-28.5, -31.9849) -> (-28.5, 31.9849) projected
  arc A39 (-28.5, 31.9849) -> (-38.6708, 50.2578) centre (-50, 31.9849) ccw projected
  line L10 (-38.6708, 50.2578) -> (-64.1947, 66.0826) projected
  arc A40 (-64.1947, 66.0826) -> (-78.485, 69.1048) centre (-75.5239, 47.8097) ccw projected
  arc A41 (-69.5676, 83.4878) -> (-78.485, 69.1048) centre (-80, 80) ccw projected
  arc A42 (-69.5676, 83.4878) -> (-60.5062, 72.0319) centre (-49.177, 90.3048) ccw projected
  line L11 (-60.5062, 72.0319) -> (-26.1435, 50.7271) projected
  arc A43 (-26.1435, 50.7271) -> (-14.8143, 47.5) centre (-14.8143, 69) ccw projected
  line L12 (-10.5, 39.5) -> (10.5, 39.5)
  line L13 (10.5, 39.5) -> (10.5, -39.5)
  line L14 (10.5, -39.5) -> (-10.5, -39.5)
  line L15 (-10.5, -39.5) -> (-10.5, 39.5)
  point P0 (0, 0)
  dimension "d72" = 8
  dimension "d73" = 8
  dimension "d74" = 18
  dimension "d75" = 18
extrude "Extrusion4" cut sketch "Sketch9" against normal blind 11.5 contours L12 L13 L14 L15
fillet "Fillet3" radius 4 4 edges at (10.5, 39.5, 4) (-10.5, 39.5, 4) (10.5, -39.5, 4) (-10.5, -39.5, 4)
sketch "Sketch10" plane through (0, 0, 8) normal (0, 0, 1) x (1, 0, 0)
  line L0 (-10.5, -35.5) -> (-10.5, 35.5) projected
  circle A0 centre (-20, 38) radius 6 projected
  circle A1 centre (-20, -38) radius 6 projected
  line L1 (-28.5, 31.9849) -> (-28.5, -31.9849) projected
  line L2 (-28.5, 28) -> (-20.5, 28)
  line L3 (-20.5, 28) -> (-20.5, -28)
  line L4 (-20.5, -28) -> (-28.5, -28)
  line L5 (-28.5, -28) -> (-28.5, 28)
  point P0 (0, 0)
  dimension "d84" = 10
  dimension "d85" = 10
  dimension "d86" = 10
extrude "Extrusion5" cut sketch "Sketch10" against normal blind 4 contours L2 L3 L4 L1
mirror "Mirror5" about plane through (0, 0, 0) normal (1, 0, 0) of "Extrusion5"
fillet "Fillet5" radius 3 8 edges at (20.5, 28, 6) (28.5, 28, 6) (-20.5, 28, 6) (-28.5, 28, 6) (-28.5, -28, 6) (-20.5, -28, 6) (20.5, -28, 6) (28.5, -28, 6)
equation "\"d14\" = d13"
equation "\"d16\" = d15"
equation "\"d30\" = d28"
equation "\"d73\" = d72"
equation "\"d75\" = d74"
equation "\"d85\" = d84"
properties part number "base" material "Aluminum 6061"
